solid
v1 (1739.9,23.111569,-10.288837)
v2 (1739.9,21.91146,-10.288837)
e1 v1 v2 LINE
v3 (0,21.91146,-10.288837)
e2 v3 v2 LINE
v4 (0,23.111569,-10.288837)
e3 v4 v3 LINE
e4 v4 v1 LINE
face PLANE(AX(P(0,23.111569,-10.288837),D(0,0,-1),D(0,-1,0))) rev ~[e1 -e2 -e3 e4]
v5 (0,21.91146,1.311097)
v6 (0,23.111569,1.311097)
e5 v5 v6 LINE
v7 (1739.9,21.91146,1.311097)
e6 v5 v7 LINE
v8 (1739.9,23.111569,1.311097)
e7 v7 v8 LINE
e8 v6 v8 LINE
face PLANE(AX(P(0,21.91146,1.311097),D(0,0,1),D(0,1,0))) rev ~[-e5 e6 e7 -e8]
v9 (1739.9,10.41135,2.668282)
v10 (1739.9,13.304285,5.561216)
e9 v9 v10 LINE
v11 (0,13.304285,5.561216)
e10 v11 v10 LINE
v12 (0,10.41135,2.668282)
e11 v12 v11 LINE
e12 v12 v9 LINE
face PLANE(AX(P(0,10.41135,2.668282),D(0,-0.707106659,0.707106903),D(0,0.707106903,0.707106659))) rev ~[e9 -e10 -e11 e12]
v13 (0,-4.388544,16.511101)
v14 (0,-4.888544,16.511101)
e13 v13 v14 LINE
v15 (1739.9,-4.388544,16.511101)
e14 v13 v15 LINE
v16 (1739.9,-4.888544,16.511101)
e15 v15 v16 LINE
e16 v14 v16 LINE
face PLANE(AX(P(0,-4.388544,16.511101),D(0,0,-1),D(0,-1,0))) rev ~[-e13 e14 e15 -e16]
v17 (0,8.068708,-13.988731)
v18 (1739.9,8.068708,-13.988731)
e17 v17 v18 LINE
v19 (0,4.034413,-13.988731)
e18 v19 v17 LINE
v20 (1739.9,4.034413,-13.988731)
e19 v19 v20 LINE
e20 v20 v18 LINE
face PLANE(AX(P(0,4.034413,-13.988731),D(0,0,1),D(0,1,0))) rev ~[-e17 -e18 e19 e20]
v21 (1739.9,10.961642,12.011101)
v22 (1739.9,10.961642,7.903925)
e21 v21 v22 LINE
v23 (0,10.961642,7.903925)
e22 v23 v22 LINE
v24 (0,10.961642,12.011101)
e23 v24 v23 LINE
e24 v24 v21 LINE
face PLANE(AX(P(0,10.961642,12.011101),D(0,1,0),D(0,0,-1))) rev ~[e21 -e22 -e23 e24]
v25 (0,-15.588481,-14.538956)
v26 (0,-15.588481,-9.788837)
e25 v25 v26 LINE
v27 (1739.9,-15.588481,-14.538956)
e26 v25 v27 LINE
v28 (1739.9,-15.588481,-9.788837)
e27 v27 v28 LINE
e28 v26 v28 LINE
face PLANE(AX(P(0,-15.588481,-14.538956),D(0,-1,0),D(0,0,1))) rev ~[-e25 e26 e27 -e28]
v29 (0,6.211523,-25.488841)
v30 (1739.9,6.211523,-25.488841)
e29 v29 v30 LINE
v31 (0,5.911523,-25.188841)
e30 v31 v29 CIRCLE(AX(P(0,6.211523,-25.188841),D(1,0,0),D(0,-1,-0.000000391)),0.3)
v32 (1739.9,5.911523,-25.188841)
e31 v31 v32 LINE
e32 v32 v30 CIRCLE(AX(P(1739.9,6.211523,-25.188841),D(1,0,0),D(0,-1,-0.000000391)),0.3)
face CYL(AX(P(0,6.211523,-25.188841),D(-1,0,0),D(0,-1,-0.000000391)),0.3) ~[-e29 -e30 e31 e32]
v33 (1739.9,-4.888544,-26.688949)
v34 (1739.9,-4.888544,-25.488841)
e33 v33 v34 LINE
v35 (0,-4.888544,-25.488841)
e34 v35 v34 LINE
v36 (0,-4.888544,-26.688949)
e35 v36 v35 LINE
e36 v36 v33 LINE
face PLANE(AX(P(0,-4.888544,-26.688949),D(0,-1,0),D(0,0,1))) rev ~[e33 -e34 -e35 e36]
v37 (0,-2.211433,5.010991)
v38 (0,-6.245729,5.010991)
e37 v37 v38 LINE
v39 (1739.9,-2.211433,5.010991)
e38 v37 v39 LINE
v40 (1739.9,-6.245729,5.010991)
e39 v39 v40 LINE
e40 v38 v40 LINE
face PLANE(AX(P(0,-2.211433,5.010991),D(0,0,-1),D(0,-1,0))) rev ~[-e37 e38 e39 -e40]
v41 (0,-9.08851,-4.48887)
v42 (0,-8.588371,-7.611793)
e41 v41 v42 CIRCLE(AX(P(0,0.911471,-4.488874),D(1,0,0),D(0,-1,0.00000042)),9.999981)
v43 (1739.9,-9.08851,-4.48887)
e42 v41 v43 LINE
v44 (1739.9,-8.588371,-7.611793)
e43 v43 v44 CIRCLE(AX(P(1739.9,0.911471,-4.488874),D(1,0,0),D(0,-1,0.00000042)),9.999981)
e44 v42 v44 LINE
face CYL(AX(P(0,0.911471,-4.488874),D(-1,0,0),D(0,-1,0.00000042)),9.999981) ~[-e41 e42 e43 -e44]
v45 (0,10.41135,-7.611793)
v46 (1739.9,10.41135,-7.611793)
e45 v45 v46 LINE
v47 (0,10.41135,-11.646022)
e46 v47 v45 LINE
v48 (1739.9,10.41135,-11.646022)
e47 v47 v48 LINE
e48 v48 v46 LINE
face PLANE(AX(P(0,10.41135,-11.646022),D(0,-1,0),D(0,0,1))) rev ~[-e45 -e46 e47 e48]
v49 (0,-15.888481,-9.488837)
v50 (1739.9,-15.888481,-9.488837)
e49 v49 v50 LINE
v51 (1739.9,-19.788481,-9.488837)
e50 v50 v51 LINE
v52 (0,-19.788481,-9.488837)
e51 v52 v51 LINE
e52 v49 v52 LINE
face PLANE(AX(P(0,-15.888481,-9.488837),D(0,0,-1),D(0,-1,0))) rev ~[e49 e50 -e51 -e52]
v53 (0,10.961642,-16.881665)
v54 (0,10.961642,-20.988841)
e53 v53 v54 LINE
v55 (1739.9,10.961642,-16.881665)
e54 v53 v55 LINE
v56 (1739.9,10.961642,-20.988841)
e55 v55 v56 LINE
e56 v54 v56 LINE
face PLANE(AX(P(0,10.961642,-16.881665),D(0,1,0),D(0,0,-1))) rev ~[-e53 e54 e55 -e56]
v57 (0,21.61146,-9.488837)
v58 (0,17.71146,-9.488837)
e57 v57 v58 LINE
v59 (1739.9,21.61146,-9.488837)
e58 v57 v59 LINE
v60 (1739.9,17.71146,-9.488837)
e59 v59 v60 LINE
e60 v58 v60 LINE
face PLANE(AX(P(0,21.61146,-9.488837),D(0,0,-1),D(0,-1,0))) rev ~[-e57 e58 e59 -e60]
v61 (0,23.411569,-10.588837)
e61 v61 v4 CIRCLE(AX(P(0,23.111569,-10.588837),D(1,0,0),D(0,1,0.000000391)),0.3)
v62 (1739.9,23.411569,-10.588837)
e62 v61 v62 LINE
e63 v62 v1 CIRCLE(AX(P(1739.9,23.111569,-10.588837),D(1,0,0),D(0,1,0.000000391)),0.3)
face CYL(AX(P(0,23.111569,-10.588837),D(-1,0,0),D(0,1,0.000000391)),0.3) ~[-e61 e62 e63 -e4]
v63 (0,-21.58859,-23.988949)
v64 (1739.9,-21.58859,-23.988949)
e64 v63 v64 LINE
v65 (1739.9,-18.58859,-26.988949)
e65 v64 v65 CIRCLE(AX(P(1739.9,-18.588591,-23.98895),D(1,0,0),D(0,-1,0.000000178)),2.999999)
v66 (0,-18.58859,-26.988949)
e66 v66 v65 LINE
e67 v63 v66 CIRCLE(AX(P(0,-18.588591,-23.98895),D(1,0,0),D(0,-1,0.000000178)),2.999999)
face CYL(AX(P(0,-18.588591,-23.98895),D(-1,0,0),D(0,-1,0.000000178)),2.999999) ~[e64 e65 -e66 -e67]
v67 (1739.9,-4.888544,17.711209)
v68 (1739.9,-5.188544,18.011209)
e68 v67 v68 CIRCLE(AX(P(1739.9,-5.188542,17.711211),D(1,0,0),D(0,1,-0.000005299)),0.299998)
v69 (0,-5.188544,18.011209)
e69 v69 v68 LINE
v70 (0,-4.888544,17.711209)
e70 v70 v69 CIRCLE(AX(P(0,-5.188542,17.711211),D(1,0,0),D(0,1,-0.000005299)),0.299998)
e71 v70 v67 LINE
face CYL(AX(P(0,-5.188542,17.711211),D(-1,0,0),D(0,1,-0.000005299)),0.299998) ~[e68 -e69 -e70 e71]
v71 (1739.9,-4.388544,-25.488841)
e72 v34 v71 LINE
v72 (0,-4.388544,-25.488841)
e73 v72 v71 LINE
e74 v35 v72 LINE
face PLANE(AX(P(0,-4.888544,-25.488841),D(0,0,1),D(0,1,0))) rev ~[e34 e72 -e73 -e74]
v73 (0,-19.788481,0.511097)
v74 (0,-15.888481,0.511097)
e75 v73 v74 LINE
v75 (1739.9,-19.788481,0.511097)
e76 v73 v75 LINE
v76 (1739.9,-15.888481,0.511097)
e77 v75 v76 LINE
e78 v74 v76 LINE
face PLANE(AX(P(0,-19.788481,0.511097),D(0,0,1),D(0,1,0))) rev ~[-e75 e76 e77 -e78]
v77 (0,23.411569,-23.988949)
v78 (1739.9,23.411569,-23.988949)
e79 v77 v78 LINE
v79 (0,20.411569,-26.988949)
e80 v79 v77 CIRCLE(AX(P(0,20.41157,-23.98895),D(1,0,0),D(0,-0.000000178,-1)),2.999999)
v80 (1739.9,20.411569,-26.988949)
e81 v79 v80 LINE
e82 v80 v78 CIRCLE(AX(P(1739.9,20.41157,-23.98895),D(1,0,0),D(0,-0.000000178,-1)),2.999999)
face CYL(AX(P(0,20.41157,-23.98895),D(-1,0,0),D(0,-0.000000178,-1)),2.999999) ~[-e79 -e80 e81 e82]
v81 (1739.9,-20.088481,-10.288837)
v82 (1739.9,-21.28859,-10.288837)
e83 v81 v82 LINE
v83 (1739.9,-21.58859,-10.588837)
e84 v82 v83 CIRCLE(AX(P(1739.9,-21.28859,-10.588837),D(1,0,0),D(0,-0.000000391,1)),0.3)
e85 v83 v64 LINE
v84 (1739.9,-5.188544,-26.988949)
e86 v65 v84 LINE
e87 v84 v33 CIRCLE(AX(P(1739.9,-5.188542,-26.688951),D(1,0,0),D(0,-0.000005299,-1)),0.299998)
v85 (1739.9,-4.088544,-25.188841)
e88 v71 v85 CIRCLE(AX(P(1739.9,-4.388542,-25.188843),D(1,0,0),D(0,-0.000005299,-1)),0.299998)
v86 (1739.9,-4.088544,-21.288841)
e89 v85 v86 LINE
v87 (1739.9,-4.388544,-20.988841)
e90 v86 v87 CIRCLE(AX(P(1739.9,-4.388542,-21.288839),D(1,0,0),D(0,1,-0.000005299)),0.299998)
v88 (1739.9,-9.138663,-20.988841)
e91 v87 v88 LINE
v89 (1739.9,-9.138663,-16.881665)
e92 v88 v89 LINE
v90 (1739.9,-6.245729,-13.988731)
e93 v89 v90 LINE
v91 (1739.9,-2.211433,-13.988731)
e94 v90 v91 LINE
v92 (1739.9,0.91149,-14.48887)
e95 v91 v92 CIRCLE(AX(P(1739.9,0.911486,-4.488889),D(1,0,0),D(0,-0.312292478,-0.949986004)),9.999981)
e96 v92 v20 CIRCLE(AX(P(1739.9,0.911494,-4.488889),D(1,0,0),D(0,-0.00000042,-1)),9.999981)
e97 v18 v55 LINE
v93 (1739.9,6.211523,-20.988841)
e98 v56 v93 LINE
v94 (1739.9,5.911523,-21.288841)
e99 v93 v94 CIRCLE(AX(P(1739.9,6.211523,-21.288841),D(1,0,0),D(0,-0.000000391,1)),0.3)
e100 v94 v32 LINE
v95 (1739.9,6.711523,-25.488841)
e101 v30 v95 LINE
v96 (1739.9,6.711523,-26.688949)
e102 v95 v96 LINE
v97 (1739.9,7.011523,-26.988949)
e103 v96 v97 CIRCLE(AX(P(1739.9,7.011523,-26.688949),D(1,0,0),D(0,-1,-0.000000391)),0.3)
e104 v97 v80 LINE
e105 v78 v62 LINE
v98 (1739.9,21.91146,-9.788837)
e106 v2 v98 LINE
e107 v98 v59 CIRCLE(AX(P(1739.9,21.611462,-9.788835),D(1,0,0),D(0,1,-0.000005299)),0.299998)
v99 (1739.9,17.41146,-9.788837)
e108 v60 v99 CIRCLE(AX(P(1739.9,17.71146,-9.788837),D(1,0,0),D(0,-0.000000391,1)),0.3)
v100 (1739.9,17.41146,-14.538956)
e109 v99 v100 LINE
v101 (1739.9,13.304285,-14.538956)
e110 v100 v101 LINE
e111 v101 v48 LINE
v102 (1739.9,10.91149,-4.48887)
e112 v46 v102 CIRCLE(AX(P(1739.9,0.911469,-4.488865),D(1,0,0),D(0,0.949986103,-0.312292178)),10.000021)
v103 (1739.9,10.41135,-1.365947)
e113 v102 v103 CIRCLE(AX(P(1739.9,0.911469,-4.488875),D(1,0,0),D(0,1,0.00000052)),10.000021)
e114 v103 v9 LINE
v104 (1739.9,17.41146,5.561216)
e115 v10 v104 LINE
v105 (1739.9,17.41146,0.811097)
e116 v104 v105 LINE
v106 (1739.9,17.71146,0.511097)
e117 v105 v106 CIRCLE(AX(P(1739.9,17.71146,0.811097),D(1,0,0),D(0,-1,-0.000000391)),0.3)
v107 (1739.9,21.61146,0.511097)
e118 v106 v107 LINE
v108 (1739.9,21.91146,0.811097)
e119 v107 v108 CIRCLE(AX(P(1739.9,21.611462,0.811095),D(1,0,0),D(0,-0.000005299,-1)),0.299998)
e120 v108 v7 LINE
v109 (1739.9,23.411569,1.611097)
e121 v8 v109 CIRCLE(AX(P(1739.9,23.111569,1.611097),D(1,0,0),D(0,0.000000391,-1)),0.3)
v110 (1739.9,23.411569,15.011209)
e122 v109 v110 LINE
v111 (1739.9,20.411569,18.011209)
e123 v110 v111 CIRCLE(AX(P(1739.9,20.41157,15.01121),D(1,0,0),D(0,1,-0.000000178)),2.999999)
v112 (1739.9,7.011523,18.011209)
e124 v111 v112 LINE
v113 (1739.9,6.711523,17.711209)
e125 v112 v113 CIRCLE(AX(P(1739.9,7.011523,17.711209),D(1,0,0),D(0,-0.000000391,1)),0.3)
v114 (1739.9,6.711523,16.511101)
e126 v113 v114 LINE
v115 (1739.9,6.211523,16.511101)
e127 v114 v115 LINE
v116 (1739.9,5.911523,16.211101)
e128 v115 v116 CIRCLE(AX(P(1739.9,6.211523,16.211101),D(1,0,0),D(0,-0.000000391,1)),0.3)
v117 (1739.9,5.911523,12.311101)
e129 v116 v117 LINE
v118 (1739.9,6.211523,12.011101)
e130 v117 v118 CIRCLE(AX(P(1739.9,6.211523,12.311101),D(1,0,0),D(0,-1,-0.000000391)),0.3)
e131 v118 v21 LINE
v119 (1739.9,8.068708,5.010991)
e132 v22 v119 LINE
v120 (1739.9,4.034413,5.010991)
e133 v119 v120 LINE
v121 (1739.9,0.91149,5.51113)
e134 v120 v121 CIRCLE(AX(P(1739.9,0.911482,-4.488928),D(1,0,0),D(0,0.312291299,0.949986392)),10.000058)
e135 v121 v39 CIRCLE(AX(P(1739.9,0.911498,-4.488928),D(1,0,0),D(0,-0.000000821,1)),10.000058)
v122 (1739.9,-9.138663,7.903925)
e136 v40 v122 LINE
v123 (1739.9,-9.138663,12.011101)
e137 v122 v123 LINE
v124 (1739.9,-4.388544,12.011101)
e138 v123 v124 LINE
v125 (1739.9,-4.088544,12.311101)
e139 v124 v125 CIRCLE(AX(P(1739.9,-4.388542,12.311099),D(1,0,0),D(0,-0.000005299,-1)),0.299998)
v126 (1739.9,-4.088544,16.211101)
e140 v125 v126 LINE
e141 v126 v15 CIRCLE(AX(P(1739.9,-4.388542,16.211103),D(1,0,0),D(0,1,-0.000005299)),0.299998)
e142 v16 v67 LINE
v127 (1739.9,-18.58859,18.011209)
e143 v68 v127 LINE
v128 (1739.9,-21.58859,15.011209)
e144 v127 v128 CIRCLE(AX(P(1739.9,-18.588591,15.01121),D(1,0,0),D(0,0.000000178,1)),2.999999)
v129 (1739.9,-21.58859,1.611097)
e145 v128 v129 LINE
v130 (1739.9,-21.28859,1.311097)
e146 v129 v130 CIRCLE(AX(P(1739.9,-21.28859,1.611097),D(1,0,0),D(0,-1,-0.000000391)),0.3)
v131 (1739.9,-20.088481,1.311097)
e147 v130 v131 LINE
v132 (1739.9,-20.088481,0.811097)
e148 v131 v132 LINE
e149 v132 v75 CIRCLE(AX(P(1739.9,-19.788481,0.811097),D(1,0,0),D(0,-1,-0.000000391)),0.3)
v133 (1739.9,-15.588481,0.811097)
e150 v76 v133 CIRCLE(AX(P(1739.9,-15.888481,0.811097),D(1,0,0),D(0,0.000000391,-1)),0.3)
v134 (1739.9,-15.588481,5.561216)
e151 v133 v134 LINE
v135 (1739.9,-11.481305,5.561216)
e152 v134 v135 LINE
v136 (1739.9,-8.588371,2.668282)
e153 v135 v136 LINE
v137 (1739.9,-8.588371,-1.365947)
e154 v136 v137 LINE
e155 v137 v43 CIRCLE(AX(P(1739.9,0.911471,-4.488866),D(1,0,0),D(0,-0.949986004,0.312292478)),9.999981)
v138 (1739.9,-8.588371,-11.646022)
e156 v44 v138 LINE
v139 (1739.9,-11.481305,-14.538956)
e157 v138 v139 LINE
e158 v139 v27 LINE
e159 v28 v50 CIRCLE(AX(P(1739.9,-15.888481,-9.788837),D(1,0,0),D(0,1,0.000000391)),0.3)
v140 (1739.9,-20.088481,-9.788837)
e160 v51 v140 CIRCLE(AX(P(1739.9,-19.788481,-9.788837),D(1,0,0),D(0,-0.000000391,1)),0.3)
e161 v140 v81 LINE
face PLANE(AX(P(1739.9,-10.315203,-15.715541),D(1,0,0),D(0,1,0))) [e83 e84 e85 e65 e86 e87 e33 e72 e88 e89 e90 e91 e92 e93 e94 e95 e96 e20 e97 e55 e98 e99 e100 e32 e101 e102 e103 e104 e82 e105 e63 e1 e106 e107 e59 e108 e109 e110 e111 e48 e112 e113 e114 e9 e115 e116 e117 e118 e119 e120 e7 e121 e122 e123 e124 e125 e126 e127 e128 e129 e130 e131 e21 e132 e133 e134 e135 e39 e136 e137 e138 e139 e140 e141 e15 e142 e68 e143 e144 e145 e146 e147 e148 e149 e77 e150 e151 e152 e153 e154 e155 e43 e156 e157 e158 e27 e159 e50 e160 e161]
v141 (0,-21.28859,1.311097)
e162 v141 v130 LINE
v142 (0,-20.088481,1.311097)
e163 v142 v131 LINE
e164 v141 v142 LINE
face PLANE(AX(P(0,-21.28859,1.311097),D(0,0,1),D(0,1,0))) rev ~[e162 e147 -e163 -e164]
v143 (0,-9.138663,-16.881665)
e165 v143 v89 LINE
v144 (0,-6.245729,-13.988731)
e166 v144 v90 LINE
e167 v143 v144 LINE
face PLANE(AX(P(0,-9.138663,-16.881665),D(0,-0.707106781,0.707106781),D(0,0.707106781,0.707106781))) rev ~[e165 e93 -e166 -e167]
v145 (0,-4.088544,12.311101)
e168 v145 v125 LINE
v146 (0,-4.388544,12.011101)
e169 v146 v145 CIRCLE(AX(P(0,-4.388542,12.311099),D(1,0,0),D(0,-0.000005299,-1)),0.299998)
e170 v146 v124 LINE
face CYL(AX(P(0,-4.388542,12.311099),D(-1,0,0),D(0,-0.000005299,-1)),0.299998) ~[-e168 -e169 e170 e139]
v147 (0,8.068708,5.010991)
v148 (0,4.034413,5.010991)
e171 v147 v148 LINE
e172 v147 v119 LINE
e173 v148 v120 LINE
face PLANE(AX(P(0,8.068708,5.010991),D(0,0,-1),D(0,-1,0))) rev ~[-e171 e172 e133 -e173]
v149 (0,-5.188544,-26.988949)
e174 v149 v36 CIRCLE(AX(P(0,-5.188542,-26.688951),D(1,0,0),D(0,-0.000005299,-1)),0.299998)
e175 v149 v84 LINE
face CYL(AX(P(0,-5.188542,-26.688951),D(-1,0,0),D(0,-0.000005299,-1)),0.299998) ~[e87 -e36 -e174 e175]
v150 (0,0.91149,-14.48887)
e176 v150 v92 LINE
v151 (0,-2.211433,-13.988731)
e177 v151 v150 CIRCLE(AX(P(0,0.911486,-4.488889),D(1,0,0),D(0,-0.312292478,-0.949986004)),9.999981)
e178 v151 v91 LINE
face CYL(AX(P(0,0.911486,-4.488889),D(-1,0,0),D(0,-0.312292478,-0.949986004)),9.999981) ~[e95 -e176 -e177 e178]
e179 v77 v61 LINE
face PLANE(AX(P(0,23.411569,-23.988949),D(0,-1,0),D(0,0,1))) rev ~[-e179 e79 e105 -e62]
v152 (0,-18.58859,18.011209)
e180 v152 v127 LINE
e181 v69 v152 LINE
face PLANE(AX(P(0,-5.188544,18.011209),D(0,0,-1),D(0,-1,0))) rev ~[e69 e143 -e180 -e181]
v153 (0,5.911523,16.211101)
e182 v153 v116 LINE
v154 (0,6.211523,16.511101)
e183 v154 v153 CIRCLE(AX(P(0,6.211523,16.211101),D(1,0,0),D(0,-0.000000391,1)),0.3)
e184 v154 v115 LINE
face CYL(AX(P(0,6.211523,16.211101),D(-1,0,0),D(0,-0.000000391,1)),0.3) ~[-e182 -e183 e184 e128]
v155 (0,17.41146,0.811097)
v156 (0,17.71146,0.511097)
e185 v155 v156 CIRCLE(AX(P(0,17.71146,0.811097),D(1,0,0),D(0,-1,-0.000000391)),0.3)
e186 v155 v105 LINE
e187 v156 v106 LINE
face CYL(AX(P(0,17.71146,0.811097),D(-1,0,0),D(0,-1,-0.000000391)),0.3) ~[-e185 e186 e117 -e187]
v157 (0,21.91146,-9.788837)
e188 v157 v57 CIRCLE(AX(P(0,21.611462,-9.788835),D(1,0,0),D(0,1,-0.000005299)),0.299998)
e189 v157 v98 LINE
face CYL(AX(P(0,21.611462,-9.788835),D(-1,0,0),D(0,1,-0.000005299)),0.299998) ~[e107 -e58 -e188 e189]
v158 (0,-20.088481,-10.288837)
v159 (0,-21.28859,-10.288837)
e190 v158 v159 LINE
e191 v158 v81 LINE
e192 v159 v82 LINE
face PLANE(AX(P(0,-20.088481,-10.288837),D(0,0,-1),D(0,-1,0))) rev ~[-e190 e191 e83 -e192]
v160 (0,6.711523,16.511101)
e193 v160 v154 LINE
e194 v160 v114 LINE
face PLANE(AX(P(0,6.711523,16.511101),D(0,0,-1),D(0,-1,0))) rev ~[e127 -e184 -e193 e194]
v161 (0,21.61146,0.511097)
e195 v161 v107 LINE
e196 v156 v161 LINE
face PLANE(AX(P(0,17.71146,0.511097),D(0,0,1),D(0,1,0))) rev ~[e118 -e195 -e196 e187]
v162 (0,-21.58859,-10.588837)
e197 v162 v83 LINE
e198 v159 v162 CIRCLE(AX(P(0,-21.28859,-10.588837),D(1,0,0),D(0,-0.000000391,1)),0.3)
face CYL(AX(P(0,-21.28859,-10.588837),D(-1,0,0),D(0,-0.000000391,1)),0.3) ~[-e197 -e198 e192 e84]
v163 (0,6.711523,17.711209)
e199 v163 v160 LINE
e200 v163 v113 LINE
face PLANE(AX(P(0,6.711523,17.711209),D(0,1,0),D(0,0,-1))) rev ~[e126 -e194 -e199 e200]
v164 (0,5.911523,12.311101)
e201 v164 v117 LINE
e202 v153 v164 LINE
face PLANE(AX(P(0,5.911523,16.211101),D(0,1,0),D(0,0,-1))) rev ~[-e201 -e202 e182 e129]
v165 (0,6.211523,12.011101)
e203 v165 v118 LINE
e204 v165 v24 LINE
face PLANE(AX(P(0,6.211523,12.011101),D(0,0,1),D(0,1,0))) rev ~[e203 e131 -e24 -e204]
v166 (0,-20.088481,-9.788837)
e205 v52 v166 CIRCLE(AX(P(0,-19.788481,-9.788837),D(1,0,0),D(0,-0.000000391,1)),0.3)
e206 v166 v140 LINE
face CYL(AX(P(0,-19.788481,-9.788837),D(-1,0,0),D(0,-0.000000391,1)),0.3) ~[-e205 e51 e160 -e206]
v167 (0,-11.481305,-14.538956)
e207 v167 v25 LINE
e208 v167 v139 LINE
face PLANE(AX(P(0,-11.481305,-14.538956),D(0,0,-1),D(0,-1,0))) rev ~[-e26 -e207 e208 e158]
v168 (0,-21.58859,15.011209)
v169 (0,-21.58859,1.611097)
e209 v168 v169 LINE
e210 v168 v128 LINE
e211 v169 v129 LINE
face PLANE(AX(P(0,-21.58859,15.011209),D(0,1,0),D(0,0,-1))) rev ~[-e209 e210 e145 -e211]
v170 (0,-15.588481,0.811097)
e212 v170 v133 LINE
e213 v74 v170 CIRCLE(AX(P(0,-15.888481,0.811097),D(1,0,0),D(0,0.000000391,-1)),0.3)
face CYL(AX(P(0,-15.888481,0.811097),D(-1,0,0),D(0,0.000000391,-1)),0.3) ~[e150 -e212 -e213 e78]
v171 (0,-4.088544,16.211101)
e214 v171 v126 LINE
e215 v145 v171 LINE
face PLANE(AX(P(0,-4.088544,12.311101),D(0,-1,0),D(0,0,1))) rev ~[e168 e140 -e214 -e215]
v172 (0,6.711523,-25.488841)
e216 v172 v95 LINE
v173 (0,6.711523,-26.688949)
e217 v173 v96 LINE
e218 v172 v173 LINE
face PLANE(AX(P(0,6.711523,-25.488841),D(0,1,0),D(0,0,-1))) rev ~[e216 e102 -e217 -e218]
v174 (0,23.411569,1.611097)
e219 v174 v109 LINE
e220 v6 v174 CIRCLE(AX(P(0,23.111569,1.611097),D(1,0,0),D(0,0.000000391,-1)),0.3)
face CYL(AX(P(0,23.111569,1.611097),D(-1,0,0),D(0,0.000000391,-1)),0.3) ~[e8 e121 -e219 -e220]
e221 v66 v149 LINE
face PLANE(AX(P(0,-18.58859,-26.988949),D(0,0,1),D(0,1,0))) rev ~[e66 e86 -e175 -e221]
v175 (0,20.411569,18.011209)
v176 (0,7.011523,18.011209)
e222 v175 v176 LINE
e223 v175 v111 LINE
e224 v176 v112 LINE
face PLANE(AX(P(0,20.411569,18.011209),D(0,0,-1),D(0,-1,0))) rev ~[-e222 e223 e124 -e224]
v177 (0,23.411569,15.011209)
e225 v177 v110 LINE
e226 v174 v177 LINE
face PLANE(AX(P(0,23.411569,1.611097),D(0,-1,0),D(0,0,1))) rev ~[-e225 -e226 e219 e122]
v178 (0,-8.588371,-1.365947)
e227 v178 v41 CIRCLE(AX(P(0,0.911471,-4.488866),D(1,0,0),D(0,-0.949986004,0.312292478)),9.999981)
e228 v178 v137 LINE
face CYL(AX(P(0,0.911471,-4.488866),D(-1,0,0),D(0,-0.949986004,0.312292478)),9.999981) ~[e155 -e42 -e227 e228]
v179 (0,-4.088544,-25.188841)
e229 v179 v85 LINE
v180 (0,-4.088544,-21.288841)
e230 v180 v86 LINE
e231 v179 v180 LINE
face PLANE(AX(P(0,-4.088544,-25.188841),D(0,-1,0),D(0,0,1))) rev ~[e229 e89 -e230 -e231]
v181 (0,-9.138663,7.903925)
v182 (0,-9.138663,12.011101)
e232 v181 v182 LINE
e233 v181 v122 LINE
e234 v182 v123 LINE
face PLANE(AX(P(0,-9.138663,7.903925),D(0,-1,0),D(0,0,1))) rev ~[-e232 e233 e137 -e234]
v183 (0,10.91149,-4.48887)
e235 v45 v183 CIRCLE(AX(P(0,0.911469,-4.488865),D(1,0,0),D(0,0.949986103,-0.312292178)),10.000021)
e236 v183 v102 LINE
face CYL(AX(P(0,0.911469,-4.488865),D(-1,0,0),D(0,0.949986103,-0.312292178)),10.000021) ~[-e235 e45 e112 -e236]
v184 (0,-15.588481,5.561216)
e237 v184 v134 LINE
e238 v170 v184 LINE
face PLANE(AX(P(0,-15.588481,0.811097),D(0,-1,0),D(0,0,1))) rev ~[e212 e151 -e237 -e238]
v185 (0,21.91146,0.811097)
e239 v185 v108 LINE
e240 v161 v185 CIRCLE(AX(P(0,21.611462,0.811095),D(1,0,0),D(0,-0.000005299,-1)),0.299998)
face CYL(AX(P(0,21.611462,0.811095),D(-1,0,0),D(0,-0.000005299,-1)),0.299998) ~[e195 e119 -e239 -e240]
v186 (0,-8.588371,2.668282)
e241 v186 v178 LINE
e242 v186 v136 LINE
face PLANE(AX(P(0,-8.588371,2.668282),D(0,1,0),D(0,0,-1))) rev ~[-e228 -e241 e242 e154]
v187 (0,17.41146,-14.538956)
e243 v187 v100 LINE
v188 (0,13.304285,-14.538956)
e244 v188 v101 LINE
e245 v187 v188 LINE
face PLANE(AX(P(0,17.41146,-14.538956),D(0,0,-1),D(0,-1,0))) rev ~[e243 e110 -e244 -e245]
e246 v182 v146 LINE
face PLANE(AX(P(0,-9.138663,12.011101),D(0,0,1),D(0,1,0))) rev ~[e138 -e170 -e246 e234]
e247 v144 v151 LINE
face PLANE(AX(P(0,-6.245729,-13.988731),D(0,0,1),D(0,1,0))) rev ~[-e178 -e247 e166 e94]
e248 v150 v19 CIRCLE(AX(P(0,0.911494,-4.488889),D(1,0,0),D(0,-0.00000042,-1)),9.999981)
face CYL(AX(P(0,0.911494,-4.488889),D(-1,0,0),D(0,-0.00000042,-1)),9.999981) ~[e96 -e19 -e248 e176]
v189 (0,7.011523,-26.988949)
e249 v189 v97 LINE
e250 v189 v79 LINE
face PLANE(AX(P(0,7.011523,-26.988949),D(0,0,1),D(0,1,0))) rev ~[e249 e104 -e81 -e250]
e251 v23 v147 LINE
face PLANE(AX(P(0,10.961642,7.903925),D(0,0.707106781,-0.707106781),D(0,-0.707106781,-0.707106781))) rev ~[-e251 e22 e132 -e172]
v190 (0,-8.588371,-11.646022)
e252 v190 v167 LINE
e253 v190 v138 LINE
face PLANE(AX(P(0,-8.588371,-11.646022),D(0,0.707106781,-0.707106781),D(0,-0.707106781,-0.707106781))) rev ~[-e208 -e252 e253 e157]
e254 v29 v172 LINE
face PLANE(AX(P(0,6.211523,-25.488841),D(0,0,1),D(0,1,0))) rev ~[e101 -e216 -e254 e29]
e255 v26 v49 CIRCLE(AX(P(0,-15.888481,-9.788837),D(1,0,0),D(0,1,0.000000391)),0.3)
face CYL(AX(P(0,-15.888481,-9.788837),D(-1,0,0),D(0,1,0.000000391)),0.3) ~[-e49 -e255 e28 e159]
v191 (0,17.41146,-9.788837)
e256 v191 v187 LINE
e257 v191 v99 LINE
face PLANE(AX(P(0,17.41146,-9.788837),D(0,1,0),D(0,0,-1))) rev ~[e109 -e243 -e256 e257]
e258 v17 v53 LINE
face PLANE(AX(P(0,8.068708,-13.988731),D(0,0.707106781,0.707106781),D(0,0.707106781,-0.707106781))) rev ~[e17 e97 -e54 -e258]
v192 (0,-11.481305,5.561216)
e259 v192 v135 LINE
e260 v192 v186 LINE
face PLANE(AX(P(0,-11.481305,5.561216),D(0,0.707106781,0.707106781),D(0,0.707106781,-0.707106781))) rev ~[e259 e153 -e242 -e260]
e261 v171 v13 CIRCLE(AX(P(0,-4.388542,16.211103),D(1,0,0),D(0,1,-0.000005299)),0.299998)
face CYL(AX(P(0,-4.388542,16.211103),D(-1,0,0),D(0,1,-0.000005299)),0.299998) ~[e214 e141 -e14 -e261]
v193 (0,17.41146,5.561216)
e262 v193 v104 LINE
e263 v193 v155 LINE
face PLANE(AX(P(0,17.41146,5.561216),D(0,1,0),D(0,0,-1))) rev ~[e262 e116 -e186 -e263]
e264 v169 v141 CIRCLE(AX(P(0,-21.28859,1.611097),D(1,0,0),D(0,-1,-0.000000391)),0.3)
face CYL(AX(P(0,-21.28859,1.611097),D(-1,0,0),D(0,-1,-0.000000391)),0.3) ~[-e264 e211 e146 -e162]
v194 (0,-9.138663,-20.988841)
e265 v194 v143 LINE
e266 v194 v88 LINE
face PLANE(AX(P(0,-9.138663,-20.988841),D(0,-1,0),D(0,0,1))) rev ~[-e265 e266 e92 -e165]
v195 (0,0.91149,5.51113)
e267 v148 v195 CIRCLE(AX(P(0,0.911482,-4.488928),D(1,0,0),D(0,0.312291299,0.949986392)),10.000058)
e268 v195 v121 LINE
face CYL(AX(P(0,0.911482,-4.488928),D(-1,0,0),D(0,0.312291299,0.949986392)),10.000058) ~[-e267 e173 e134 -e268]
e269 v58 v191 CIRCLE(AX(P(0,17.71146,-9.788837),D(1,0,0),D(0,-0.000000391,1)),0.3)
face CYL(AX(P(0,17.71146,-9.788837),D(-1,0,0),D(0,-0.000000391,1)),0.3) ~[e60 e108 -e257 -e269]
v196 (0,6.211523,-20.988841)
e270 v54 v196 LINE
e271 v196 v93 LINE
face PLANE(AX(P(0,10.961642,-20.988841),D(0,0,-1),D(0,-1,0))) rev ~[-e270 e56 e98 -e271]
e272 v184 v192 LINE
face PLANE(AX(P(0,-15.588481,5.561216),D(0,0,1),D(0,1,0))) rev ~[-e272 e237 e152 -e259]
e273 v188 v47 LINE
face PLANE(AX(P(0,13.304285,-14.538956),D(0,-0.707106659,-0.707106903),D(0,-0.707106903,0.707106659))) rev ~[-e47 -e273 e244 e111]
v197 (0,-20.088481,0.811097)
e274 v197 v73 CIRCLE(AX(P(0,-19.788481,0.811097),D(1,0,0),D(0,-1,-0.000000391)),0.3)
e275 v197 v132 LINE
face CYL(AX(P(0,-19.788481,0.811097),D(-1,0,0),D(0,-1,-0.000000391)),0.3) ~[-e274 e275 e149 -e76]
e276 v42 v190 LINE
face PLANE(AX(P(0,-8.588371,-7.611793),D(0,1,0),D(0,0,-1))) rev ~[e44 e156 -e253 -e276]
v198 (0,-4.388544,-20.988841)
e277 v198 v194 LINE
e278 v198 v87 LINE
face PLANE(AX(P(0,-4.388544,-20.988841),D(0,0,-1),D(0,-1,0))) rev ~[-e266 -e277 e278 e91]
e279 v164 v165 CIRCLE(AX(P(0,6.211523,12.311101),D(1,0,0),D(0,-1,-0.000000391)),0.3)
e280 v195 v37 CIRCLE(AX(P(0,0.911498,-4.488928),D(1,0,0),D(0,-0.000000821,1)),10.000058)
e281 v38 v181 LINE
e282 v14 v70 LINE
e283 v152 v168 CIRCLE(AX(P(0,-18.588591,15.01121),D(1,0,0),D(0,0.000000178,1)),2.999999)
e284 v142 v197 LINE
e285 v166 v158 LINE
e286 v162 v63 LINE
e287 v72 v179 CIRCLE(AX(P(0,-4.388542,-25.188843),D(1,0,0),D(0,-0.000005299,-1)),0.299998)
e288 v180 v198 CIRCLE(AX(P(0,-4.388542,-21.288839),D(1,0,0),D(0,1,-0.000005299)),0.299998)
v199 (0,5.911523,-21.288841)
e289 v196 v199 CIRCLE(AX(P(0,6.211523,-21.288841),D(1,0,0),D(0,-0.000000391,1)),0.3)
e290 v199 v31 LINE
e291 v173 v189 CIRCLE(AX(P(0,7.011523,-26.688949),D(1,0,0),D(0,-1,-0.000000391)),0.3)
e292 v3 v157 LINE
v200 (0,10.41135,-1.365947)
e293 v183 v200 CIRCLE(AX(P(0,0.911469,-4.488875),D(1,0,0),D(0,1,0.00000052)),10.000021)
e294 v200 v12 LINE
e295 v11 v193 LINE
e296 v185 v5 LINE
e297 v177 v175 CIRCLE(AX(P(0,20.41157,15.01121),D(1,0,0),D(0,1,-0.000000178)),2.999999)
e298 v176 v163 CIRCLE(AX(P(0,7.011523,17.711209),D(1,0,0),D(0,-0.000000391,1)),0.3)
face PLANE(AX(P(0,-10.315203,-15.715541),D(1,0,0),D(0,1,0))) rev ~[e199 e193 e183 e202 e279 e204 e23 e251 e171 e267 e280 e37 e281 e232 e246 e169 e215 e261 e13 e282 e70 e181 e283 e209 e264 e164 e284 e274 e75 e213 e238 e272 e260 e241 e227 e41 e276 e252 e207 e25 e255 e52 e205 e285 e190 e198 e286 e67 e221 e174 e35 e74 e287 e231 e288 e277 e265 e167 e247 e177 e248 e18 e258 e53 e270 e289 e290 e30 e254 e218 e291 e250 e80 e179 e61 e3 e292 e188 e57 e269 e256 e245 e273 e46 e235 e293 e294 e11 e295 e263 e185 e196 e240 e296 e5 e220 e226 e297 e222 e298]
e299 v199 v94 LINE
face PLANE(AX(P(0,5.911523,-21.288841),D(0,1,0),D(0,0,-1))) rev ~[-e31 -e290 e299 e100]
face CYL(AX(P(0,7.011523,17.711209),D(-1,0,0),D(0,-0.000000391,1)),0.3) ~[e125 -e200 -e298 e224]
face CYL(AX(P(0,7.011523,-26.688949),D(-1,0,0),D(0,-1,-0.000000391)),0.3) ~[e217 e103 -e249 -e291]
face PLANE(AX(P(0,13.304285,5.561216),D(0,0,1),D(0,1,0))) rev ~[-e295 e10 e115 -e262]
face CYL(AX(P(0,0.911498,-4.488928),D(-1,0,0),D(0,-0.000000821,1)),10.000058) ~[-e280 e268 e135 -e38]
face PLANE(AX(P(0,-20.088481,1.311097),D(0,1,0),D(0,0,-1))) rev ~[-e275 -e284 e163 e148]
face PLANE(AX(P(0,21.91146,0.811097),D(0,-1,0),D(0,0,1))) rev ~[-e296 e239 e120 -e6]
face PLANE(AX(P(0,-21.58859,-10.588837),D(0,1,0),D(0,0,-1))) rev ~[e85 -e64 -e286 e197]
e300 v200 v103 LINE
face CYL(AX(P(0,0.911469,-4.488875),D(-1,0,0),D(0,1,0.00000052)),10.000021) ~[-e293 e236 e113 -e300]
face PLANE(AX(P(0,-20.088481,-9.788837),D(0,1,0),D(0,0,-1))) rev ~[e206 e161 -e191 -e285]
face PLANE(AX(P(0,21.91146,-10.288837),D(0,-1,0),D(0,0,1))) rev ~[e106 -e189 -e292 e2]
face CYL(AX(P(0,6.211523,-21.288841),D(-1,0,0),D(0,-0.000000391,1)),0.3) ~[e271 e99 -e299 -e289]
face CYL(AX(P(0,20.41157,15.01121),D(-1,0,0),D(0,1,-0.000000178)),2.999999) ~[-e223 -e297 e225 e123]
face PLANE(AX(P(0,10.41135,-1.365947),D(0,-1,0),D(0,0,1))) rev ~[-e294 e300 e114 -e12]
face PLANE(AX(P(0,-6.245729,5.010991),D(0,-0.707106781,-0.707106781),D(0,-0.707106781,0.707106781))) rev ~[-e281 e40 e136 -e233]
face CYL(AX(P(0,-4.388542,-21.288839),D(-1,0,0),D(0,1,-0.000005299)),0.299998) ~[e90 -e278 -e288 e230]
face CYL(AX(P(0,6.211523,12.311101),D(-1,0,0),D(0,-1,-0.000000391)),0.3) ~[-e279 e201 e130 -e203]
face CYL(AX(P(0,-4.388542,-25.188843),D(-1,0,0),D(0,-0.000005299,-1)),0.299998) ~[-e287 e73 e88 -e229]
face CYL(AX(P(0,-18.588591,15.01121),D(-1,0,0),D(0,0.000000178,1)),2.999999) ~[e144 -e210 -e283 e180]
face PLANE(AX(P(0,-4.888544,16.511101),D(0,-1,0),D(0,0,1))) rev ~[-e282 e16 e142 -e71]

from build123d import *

# Parameters (mm, degrees)
F1_DEPTH = 1739.9


with BuildPart() as f1:
    # F0 (on Right) → F1 (new body)
    with BuildSketch(Plane.YZ):
        with BuildLine():
            Line((-20.088481, -9.788837), (-20.088481, -10.288837))
            Line((-20.088481, -10.288837), (-21.28859, -10.288837))
            ThreePointArc((-21.28859, -10.288837), (-21.500722, -10.376705), (-21.58859, -10.588837))
            Line((-21.58859, -10.588837), (-21.58859, -23.988949))
            ThreePointArc((-21.58859, -23.988949), (-20.70991, -26.11027), (-18.58859, -26.988949))
            Line((-18.58859, -26.988949), (-5.188544, -26.988949))
            ThreePointArc((-5.188544, -26.988949), (-4.976411, -26.901081), (-4.888544, -26.688949))
            Line((-4.888544, -26.688949), (-4.888544, -25.488841))
            Line((-4.888544, -25.488841), (-4.388544, -25.488841))
            ThreePointArc((-4.388544, -25.488841), (-4.176411, -25.400973), (-4.088544, -25.188841))
            Line((-4.088544, -25.188841), (-4.088544, -21.288841))
            ThreePointArc((-4.088544, -21.288841), (-4.176411, -21.076709), (-4.388544, -20.988841))
            Line((-4.388544, -20.988841), (-9.138663, -20.988841))
            Line((-9.138663, -20.988841), (-9.138663, -16.881665))
            Line((-9.138663, -16.881665), (-6.245729, -13.988731))
            Line((-6.245729, -13.988731), (-2.211433, -13.988731))
            ThreePointArc((-2.211433, -13.988731), (-0.669869, -14.363044), (0.91149, -14.48887))
            Line((0.91149, -14.48887), (0.91149, -4.48887))
            Line((0.91149, -4.48887), (-9.08851, -4.48887))
            ThreePointArc((-9.08851, -4.48887), (-8.962684, -6.070229), (-8.588371, -7.611793))
            Line((-8.588371, -7.611793), (-8.588371, -11.646022))
            Line((-8.588371, -11.646022), (-11.481305, -14.538956))
            Line((-11.481305, -14.538956), (-15.588481, -14.538956))
            Line((-15.588481, -14.538956), (-15.588481, -9.788837))
            ThreePointArc((-15.588481, -9.788837), (-15.676349, -9.576705), (-15.888481, -9.488837))
            Line((-15.888481, -9.488837), (-19.788481, -9.488837))
            ThreePointArc((-19.788481, -9.488837), (-20.000613, -9.576705), (-20.088481, -9.788837))
        make_face()
        with BuildLine():
            ThreePointArc((-8.588371, -1.365947), (-8.962684, -2.907511), (-9.08851, -4.48887))
            Line((-9.08851, -4.48887), (0.91149, -4.48887))
            Line((0.91149, -4.48887), (0.91149, 5.51113))
            ThreePointArc((0.91149, 5.51113), (-0.669869, 5.385303), (-2.211433, 5.010991))
            Line((-2.211433, 5.010991), (-6.245729, 5.010991))
            Line((-6.245729, 5.010991), (-9.138663, 7.903925))
            Line((-9.138663, 7.903925), (-9.138663, 12.011101))
            Line((-9.138663, 12.011101), (-4.388544, 12.011101))
            ThreePointArc((-4.388544, 12.011101), (-4.176411, 12.098969), (-4.088544, 12.311101))
            Line((-4.088544, 12.311101), (-4.088544, 16.211101))
            ThreePointArc((-4.088544, 16.211101), (-4.176411, 16.423233), (-4.388544, 16.511101))
            Line((-4.388544, 16.511101), (-4.888544, 16.511101))
            Line((-4.888544, 16.511101), (-4.888544, 17.711209))
            ThreePointArc((-4.888544, 17.711209), (-4.976411, 17.923341), (-5.188544, 18.011209))
            Line((-5.188544, 18.011209), (-18.58859, 18.011209))
            ThreePointArc((-18.58859, 18.011209), (-20.70991, 17.13253), (-21.58859, 15.011209))
            Line((-21.58859, 15.011209), (-21.58859, 1.611097))
            ThreePointArc((-21.58859, 1.611097), (-21.500722, 1.398965), (-21.28859, 1.311097))
            Line((-21.28859, 1.311097), (-20.088481, 1.311097))
            Line((-20.088481, 1.311097), (-20.088481, 0.811097))
            ThreePointArc((-20.088481, 0.811097), (-20.000613, 0.598965), (-19.788481, 0.511097))
            Line((-19.788481, 0.511097), (-15.888481, 0.511097))
            ThreePointArc((-15.888481, 0.511097), (-15.676349, 0.598965), (-15.588481, 0.811097))
            Line((-15.588481, 0.811097), (-15.588481, 5.561216))
            Line((-15.588481, 5.561216), (-11.481305, 5.561216))
            Line((-11.481305, 5.561216), (-8.588371, 2.668282))
            Line((-8.588371, 2.668282), (-8.588371, -1.365947))
        make_face()
        with BuildLine():
            Line((0.91149, 5.51113), (0.91149, -4.48887))
            Line((0.91149, -4.48887), (10.91149, -4.48887))
            ThreePointArc((10.91149, -4.48887), (10.785663, -2.907511), (10.41135, -1.365947))
            Line((10.41135, -1.365947), (10.41135, 2.668282))
            Line((10.41135, 2.668282), (13.304285, 5.561216))
            Line((13.304285, 5.561216), (14.016842, 5.561216))
            Line((14.016842, 5.561216), (17.41146, 5.561216))
            Line((17.41146, 5.561216), (17.41146, 0.811097))
            ThreePointArc((17.41146, 0.811097), (17.499328, 0.598965), (17.71146, 0.511097))
            Line((17.71146, 0.511097), (21.61146, 0.511097))
            ThreePointArc((21.61146, 0.511097), (21.823593, 0.598965), (21.91146, 0.811097))
            Line((21.91146, 0.811097), (21.91146, 1.311097))
            Line((21.91146, 1.311097), (23.111569, 1.311097))
            ThreePointArc((23.111569, 1.311097), (23.323701, 1.398965), (23.411569, 1.611097))
            Line((23.411569, 1.611097), (23.411569, 15.011209))
            ThreePointArc((23.411569, 15.011209), (22.532889, 17.13253), (20.411569, 18.011209))
            Line((20.411569, 18.011209), (7.011523, 18.011209))
            ThreePointArc((7.011523, 18.011209), (6.799391, 17.923341), (6.711523, 17.711209))
            Line((6.711523, 17.711209), (6.711523, 16.511101))
            Line((6.711523, 16.511101), (6.211523, 16.511101))
            ThreePointArc((6.211523, 16.511101), (5.999391, 16.423233), (5.911523, 16.211101))
            Line((5.911523, 16.211101), (5.911523, 12.311101))
            ThreePointArc((5.911523, 12.311101), (5.999391, 12.098969), (6.211523, 12.011101))
            Line((6.211523, 12.011101), (10.961642, 12.011101))
            Line((10.961642, 12.011101), (10.961642, 7.903925))
            Line((10.961642, 7.903925), (8.068708, 5.010991))
            Line((8.068708, 5.010991), (4.034413, 5.010991))
            ThreePointArc((4.034413, 5.010991), (2.492849, 5.385303), (0.91149, 5.51113))
        make_face()
        with BuildLine():
            Line((10.91149, -4.48887), (0.91149, -4.48887))
            Line((0.91149, -4.48887), (0.91149, -14.48887))
            ThreePointArc((0.91149, -14.48887), (2.492849, -14.363044), (4.034413, -13.988731))
            Line((4.034413, -13.988731), (8.068708, -13.988731))
            Line((8.068708, -13.988731), (10.961642, -16.881665))
            Line((10.961642, -16.881665), (10.961642, -20.988841))
            Line((10.961642, -20.988841), (6.211523, -20.988841))
            ThreePointArc((6.211523, -20.988841), (5.999391, -21.076709), (5.911523, -21.288841))
            Line((5.911523, -21.288841), (5.911523, -25.188841))
            ThreePointArc((5.911523, -25.188841), (5.999391, -25.400973), (6.211523, -25.488841))
            Line((6.211523, -25.488841), (6.711523, -25.488841))
            Line((6.711523, -25.488841), (6.711523, -26.688949))
            ThreePointArc((6.711523, -26.688949), (6.799391, -26.901081), (7.011523, -26.988949))
            Line((7.011523, -26.988949), (20.411569, -26.988949))
            ThreePointArc((20.411569, -26.988949), (22.532889, -26.11027), (23.411569, -23.988949))
            Line((23.411569, -23.988949), (23.411569, -10.588837))
            ThreePointArc((23.411569, -10.588837), (23.323701, -10.376705), (23.111569, -10.288837))
            Line((23.111569, -10.288837), (21.91146, -10.288837))
            Line((21.91146, -10.288837), (21.91146, -9.788837))
            ThreePointArc((21.91146, -9.788837), (21.823593, -9.576705), (21.61146, -9.488837))
            Line((21.61146, -9.488837), (17.71146, -9.488837))
            ThreePointArc((17.71146, -9.488837), (17.499328, -9.576705), (17.41146, -9.788837))
            Line((17.41146, -9.788837), (17.41146, -14.538956))
            Line((17.41146, -14.538956), (13.304285, -14.538956))
            Line((13.304285, -14.538956), (10.41135, -11.646022))
            Line((10.41135, -11.646022), (10.41135, -7.611793))
            ThreePointArc((10.41135, -7.611793), (10.785663, -6.070229), (10.91149, -4.48887))
        make_face()
    extrude(amount=F1_DEPTH)


solid = f1.part
